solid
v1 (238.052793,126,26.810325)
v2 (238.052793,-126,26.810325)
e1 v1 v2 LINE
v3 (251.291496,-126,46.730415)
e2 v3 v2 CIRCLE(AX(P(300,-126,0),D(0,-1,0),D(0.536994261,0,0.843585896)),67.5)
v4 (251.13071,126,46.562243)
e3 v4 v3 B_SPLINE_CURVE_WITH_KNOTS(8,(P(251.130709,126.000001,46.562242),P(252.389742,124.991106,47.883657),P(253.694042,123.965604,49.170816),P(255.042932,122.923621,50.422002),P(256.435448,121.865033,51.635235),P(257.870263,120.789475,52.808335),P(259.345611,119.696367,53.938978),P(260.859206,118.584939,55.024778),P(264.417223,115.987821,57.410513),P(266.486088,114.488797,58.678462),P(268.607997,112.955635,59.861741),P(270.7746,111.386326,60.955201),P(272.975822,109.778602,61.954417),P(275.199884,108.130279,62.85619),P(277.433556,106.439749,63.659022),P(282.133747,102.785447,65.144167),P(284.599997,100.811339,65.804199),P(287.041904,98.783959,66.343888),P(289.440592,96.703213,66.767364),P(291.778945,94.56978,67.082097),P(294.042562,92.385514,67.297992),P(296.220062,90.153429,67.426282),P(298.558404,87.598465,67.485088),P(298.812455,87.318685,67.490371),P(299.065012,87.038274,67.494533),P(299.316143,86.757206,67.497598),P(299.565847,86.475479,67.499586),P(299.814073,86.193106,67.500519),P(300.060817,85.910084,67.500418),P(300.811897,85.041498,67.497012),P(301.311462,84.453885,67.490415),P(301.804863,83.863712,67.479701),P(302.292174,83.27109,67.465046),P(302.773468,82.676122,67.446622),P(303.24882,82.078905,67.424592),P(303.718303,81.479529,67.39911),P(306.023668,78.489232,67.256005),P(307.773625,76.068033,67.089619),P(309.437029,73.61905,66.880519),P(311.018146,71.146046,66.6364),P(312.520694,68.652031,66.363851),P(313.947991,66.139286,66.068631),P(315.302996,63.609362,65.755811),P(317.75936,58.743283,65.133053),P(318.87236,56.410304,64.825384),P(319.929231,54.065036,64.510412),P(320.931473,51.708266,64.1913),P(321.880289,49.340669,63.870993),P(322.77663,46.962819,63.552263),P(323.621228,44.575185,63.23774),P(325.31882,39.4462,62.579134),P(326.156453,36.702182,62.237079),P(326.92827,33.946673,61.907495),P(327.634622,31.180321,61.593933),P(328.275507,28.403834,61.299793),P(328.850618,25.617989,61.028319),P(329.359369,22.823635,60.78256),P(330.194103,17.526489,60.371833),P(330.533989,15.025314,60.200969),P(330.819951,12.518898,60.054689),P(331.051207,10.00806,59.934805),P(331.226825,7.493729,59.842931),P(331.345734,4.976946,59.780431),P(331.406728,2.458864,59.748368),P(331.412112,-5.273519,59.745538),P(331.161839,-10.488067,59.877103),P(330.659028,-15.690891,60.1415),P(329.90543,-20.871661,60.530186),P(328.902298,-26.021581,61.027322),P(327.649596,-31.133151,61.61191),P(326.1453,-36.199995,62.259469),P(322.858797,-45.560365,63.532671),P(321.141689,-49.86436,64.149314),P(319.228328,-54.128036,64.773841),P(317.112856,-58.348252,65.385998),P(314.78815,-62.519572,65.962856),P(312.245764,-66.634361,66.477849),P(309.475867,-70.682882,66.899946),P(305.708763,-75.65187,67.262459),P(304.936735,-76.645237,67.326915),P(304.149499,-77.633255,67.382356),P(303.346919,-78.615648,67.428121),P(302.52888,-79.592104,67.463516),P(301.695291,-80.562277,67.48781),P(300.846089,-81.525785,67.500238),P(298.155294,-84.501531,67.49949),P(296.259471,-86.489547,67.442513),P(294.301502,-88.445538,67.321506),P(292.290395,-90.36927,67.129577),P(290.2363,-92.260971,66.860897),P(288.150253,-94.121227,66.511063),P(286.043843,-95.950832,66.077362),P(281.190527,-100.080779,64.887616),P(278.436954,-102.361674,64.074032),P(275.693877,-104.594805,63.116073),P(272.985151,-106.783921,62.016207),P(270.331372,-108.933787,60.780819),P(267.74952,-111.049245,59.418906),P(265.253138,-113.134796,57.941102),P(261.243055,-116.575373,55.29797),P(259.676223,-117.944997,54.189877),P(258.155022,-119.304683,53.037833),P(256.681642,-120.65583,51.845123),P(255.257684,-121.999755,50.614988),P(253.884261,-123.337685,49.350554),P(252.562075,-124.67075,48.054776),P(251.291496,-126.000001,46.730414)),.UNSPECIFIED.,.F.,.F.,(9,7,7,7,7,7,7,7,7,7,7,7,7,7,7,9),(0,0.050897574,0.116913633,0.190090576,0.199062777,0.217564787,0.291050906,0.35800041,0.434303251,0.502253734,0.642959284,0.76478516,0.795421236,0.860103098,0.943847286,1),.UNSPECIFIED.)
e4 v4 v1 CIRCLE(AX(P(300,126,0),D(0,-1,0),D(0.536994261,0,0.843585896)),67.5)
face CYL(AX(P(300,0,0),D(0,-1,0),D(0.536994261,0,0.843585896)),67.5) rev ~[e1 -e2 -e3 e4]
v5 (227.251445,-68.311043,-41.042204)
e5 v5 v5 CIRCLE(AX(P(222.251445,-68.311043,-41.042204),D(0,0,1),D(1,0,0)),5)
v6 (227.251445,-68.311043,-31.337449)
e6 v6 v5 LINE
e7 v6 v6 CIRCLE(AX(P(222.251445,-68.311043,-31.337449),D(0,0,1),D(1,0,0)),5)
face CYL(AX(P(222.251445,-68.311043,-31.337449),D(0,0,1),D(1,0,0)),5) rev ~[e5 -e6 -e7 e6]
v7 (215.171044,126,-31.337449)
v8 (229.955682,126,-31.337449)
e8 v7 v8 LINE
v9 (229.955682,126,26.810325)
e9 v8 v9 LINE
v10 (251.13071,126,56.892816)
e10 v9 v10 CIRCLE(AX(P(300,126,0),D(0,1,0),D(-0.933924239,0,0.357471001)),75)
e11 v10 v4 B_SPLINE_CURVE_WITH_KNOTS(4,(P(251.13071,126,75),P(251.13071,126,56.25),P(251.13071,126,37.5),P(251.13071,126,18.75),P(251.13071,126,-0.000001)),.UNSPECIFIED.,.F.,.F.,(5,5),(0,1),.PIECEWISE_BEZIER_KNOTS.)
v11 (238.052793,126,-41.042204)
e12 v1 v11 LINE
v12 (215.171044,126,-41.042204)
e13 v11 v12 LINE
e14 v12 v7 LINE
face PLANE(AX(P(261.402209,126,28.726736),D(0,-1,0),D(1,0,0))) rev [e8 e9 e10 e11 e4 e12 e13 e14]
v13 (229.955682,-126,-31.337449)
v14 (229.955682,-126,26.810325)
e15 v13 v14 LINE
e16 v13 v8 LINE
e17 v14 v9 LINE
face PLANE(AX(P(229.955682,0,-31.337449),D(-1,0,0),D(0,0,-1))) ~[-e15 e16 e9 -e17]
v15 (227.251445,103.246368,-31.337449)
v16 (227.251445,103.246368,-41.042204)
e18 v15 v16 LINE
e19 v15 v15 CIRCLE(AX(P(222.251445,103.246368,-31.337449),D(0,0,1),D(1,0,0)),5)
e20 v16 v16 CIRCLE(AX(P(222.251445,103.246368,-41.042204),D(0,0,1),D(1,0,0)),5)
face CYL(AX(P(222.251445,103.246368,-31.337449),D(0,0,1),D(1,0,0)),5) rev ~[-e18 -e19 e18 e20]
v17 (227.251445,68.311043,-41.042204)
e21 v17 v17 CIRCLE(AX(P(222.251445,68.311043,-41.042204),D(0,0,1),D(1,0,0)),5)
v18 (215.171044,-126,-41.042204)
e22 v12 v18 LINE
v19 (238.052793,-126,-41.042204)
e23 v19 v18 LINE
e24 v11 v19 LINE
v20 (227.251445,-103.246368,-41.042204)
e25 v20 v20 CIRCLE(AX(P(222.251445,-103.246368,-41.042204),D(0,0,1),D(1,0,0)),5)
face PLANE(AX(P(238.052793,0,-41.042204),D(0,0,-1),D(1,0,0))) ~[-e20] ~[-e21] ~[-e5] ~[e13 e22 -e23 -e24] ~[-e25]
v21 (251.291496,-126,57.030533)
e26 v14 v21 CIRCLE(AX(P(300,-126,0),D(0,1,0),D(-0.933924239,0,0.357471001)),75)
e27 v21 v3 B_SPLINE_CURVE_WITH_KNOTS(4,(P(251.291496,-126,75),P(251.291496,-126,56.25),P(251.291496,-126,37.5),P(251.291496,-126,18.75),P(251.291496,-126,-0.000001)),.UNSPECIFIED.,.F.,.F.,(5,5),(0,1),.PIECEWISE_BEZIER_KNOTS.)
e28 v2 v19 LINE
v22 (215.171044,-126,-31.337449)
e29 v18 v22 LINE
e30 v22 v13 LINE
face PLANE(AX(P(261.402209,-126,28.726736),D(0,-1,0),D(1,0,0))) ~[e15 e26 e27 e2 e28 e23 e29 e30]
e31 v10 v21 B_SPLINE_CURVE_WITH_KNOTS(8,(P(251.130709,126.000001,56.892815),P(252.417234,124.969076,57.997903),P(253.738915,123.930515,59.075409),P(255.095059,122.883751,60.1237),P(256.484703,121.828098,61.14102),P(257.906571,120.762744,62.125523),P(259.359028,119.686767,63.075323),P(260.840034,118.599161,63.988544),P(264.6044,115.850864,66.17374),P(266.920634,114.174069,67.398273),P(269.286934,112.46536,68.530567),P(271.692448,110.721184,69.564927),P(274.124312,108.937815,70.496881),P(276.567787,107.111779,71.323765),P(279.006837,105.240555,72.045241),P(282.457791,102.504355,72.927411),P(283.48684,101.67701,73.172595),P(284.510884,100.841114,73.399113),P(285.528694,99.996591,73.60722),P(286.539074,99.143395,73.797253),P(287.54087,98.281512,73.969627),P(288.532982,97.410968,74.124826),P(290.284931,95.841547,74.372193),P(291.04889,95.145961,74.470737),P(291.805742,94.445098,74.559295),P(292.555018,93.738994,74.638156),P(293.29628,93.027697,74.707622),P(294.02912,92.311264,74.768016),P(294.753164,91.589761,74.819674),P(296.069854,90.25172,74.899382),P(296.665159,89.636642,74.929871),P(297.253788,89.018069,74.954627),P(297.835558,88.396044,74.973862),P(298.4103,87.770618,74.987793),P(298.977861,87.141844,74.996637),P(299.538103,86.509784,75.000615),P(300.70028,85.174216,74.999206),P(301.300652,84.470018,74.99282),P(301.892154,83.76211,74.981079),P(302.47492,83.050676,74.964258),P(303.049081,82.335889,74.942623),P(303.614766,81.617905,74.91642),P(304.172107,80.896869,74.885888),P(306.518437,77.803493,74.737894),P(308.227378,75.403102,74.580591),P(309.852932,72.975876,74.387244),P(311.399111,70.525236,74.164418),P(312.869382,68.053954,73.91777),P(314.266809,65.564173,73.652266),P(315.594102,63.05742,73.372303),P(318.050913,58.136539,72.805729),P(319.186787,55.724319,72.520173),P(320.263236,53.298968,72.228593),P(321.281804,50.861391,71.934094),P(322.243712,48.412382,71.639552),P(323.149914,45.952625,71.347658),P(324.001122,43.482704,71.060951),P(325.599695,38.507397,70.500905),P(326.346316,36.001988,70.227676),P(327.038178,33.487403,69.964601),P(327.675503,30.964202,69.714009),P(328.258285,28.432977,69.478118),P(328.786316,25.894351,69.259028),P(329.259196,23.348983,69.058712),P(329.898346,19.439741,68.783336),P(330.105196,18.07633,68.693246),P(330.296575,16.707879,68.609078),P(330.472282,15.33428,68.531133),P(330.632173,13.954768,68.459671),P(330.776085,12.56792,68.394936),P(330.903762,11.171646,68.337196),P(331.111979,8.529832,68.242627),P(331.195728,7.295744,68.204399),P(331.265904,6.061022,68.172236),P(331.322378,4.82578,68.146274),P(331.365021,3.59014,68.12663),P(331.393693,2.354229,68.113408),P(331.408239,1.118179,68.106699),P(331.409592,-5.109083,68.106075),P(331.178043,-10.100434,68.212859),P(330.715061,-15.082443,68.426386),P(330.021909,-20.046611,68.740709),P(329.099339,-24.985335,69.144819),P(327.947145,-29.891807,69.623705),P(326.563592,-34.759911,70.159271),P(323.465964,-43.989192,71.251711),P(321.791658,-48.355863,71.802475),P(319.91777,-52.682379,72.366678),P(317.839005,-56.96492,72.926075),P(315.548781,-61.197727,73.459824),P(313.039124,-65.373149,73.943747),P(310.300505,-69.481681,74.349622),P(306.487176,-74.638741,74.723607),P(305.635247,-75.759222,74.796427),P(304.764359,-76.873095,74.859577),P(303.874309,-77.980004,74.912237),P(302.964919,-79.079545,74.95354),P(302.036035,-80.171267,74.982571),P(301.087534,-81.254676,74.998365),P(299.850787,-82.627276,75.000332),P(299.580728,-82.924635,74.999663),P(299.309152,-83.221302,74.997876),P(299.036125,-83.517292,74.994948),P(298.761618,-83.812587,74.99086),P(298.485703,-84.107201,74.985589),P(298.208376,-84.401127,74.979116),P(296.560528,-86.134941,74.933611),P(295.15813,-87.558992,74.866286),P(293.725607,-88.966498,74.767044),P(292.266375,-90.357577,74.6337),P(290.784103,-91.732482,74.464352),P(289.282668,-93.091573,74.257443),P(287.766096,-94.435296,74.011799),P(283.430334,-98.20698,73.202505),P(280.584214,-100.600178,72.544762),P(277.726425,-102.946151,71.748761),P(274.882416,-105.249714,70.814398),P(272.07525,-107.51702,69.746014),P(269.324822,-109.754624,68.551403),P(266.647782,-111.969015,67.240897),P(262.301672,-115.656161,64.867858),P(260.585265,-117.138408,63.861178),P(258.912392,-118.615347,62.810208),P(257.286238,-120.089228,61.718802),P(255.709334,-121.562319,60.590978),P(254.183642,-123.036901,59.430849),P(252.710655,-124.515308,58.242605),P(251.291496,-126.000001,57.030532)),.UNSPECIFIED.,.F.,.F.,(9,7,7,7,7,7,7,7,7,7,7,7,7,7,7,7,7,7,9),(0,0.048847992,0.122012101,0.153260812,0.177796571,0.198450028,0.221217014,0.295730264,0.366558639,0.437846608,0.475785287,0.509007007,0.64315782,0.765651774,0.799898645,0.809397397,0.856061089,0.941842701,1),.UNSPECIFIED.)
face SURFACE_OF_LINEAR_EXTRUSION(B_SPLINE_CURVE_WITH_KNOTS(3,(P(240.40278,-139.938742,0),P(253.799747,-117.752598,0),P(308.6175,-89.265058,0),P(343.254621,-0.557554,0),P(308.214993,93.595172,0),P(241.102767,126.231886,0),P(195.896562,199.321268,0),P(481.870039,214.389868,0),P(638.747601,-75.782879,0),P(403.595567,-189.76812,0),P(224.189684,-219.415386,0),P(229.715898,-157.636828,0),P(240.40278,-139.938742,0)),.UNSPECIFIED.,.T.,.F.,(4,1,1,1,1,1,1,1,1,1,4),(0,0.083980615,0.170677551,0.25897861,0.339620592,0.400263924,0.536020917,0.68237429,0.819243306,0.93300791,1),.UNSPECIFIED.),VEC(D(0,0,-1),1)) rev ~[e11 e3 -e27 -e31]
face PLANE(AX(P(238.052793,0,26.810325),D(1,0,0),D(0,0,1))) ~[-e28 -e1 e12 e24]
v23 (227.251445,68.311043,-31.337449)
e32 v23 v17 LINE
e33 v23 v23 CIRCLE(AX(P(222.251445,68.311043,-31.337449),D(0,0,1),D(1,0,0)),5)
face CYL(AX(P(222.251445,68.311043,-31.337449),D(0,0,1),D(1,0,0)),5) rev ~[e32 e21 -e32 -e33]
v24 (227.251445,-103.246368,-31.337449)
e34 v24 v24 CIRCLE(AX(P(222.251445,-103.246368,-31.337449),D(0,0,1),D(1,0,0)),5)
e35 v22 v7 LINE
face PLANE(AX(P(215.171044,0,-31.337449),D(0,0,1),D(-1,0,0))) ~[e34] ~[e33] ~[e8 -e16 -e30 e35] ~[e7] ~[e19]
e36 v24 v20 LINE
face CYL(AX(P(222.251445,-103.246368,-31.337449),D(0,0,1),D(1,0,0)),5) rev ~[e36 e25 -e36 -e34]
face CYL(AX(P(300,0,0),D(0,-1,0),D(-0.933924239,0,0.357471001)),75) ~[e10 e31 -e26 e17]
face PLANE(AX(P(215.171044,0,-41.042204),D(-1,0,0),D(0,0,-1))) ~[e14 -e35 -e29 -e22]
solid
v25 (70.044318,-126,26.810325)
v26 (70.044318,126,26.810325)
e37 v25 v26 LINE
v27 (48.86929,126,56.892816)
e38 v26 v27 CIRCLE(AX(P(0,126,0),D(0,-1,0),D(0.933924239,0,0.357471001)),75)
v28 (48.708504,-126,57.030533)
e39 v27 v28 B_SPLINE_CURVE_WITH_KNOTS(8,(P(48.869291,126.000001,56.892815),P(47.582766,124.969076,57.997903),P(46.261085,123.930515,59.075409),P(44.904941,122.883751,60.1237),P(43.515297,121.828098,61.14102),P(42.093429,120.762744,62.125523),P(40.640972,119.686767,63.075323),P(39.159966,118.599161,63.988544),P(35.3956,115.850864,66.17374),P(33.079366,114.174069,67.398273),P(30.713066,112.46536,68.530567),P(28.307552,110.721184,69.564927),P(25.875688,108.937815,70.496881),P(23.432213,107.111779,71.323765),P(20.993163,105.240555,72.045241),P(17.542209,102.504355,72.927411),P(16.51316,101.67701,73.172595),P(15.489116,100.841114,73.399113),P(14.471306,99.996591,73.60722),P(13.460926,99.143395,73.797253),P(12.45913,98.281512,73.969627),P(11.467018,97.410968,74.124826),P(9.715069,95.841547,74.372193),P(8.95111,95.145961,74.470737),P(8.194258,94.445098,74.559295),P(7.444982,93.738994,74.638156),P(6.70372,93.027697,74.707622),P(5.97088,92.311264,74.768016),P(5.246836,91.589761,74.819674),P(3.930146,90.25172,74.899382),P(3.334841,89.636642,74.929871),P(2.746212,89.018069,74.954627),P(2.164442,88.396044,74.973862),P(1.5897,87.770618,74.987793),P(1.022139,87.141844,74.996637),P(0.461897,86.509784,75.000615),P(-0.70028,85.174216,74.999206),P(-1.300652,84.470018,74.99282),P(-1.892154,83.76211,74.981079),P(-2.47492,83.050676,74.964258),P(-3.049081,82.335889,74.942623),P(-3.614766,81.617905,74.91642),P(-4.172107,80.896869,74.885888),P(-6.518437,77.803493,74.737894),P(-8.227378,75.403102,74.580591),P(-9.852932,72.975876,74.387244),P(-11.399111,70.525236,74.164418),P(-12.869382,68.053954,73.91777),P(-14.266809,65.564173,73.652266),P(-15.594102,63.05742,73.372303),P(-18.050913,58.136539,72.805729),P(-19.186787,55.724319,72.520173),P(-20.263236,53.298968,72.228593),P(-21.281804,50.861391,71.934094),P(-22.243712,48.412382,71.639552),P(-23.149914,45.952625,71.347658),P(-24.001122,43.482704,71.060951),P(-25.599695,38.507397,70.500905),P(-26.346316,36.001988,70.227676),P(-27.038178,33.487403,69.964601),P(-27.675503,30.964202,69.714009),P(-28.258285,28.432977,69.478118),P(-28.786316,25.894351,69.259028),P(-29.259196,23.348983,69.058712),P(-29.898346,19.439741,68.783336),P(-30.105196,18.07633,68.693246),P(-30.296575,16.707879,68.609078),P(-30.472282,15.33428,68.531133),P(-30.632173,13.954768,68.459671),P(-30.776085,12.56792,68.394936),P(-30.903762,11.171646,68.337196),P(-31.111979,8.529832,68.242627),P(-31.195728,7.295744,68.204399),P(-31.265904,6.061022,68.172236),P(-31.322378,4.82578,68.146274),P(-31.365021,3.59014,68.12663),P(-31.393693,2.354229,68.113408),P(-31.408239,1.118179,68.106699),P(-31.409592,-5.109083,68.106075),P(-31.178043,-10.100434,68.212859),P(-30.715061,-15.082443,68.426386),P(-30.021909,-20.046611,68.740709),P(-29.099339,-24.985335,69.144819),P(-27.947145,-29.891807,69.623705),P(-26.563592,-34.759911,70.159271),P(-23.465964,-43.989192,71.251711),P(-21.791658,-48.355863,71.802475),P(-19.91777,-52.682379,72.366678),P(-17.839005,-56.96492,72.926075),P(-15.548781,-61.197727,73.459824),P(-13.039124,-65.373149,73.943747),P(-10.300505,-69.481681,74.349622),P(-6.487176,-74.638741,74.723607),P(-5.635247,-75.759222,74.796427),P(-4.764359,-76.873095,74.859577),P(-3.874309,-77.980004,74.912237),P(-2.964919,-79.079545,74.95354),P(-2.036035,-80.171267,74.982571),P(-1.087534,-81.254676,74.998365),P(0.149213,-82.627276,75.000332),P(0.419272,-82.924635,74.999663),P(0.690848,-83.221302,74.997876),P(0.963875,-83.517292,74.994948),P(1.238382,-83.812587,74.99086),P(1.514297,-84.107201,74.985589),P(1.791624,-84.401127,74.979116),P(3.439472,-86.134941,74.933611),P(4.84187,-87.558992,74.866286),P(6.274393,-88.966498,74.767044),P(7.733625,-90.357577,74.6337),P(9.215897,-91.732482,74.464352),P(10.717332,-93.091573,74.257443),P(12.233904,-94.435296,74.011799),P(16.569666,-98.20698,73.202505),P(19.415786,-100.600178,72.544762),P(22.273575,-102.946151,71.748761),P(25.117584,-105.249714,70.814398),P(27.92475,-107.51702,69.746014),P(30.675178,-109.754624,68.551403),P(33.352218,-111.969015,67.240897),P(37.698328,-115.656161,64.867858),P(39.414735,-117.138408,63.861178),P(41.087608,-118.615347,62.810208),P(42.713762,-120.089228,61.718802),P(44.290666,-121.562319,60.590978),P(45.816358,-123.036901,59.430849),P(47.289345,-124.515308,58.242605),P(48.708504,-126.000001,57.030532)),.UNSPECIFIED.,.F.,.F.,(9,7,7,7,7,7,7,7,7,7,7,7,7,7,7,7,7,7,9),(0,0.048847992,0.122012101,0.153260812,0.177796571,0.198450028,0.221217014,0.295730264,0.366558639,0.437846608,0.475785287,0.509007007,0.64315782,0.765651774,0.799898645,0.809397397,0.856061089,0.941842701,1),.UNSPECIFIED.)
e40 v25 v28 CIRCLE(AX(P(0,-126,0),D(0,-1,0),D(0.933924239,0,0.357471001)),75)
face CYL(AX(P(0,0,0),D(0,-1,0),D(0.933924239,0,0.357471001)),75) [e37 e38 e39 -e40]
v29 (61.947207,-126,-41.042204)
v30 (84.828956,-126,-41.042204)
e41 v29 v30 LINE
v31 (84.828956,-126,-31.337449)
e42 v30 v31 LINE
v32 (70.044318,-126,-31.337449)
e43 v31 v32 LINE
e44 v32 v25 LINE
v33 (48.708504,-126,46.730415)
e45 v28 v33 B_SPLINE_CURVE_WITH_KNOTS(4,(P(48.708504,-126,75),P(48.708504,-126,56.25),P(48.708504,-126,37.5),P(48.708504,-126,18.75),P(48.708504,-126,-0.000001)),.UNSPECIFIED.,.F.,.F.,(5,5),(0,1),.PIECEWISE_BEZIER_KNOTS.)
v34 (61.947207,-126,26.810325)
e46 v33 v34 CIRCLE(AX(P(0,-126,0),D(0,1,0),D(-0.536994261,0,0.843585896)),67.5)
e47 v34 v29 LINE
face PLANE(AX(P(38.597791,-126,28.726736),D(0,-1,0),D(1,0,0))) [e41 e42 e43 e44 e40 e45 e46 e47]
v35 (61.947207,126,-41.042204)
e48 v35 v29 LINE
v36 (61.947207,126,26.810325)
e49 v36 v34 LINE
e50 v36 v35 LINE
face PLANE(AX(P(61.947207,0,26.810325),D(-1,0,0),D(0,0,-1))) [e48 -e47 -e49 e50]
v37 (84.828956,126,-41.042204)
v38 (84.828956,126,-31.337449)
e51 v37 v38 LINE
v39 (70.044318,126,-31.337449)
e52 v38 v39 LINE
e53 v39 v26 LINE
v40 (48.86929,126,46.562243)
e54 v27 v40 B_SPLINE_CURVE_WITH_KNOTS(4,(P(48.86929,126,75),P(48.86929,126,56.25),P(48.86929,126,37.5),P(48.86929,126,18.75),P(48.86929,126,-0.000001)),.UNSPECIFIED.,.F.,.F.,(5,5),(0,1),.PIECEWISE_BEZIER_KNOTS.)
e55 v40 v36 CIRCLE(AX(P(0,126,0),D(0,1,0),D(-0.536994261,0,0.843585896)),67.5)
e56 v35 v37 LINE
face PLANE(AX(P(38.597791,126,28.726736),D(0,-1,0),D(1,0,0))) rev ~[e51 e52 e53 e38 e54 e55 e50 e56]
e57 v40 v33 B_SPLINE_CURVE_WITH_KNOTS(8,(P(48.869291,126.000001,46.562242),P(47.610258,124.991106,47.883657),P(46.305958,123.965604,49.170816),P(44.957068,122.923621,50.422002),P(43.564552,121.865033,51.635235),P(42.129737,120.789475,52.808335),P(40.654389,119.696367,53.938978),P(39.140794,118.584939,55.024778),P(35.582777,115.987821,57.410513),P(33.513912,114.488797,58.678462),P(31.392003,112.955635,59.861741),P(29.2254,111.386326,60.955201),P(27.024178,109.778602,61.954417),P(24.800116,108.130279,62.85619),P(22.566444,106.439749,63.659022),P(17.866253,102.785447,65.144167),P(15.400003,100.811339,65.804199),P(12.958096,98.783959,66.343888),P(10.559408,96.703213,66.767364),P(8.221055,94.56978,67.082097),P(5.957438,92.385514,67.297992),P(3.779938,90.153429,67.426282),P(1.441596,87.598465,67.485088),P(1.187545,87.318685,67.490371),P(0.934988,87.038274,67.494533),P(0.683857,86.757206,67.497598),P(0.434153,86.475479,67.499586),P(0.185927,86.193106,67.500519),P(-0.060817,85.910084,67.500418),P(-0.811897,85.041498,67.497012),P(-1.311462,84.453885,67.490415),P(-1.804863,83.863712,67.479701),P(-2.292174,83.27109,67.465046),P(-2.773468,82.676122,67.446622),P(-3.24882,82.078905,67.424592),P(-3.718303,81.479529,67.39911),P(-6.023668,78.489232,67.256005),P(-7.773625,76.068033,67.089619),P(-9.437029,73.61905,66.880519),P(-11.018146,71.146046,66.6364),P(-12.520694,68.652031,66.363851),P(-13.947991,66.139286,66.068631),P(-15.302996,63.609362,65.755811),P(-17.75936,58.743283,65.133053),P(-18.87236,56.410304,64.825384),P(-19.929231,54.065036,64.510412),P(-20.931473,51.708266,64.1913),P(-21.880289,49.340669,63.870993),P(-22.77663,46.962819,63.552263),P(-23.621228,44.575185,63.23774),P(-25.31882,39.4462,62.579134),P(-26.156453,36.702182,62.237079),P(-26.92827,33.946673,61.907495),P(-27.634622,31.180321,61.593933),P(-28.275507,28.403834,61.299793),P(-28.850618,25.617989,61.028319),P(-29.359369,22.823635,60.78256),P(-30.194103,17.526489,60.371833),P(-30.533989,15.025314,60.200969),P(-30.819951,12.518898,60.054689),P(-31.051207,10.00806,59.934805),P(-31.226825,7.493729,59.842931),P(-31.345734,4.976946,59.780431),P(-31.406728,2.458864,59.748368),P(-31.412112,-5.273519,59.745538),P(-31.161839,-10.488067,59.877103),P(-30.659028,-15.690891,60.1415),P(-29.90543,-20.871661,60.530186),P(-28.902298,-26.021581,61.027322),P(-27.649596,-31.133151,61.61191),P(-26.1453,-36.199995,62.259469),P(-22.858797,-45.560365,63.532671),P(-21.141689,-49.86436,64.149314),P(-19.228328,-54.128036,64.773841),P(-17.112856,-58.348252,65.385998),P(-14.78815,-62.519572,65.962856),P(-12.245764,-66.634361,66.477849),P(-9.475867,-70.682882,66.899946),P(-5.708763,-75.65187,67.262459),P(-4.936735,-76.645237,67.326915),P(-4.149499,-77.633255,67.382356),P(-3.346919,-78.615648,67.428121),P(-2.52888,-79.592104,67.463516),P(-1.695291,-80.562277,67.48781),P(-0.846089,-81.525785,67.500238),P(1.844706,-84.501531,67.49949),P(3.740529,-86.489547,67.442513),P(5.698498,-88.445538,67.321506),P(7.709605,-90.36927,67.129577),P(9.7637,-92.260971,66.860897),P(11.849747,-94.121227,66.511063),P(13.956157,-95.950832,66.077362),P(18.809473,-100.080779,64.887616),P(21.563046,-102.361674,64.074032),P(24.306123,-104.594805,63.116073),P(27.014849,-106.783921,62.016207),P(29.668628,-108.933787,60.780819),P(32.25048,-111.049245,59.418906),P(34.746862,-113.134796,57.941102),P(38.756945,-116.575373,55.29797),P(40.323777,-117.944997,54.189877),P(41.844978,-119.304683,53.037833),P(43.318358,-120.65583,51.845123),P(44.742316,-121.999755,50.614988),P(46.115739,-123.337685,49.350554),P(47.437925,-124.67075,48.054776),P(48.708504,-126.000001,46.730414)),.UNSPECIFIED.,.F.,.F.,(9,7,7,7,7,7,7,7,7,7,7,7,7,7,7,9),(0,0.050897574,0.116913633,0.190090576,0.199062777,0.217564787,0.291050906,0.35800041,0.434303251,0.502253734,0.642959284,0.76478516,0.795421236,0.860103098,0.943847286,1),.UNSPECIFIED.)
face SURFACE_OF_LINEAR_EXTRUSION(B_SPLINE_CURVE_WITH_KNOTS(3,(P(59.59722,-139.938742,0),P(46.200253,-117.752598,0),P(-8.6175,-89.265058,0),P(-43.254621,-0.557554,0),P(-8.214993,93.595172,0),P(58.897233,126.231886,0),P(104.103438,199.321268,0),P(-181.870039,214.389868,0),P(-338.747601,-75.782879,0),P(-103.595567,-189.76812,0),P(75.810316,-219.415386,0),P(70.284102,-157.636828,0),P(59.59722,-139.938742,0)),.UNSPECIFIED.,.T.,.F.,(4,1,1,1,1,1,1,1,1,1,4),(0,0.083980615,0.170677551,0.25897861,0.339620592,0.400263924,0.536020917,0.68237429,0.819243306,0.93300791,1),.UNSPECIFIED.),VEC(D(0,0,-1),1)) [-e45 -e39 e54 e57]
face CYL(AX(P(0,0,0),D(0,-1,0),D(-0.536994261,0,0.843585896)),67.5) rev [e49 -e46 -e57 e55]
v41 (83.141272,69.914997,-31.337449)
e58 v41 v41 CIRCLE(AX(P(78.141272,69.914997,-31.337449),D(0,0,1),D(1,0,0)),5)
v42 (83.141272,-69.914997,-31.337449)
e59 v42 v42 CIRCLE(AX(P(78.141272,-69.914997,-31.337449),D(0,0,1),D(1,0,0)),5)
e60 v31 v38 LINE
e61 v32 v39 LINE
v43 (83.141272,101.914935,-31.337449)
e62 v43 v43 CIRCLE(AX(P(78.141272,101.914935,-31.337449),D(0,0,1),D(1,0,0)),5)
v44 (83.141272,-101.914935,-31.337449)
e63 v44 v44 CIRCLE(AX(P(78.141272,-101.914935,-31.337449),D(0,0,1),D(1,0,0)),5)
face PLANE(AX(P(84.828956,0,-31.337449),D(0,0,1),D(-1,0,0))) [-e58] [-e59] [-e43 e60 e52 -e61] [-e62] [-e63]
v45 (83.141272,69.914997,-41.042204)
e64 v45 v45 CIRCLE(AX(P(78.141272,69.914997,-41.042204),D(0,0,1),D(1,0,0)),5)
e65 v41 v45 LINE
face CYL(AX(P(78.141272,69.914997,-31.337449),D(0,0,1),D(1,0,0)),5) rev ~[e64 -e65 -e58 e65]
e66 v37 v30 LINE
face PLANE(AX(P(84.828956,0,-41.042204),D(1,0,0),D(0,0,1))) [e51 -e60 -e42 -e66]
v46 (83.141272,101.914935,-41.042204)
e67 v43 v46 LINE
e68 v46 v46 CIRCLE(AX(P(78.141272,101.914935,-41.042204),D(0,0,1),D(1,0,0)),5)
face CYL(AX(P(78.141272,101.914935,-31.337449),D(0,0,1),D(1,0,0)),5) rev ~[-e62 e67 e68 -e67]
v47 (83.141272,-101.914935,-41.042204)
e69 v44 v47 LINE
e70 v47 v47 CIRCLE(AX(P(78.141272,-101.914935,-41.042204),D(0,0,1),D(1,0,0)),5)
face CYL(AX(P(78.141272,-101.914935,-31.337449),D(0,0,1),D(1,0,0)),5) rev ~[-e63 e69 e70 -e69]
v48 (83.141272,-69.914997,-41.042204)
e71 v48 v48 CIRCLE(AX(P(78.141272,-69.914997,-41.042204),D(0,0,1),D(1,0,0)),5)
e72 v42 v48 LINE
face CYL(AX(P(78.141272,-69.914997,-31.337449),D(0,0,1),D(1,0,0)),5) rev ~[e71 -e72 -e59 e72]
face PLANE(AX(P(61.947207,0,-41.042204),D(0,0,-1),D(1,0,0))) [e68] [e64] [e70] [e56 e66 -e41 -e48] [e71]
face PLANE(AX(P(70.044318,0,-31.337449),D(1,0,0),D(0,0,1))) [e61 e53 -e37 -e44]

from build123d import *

# Parameters (mm, degrees)
F1_DEPTH      = 126
F1_DEPTH_BACK = 126
F5_DEPTH      = 100
F8_R          = 5
F9_DEPTH      = 25
F10_R         = 5
F11_DEPTH     = 25


with BuildPart() as f1:
    # F0 (on Front) → F1 (new body, two sides)
    with BuildSketch(Plane.XZ) as f1_sk:
        with BuildLine():
            Line((70.0443179016, -12.7403034491), (70.0443179016, 26.8103250578))
            ThreePointArc((70.0443179016, 26.8103250578), (25.7463386006, 70.4423597607), (-36.2471125971, 65.6593240018))
            Line((-36.2471125971, 65.6593240018), (-36.2471125971, 56.9420479819))
            ThreePointArc((-36.2471125971, 56.9420479819), (19.8016134759, 64.5301952868), (61.9472071227, 26.8103250578))
            Line((61.9472071227, 26.8103250578), (61.9472071227, -31.3374493738))
            Line((61.9472071227, -31.3374493738), (61.9472071227, -41.0422040633))
            Line((61.9472071227, -41.0422040633), (84.8289564794, -41.0422040633))
            Line((84.8289564794, -41.0422040633), (84.8289564794, -31.3374493738))
            Line((84.8289564794, -31.3374493738), (70.0443179016, -31.3374493738))
            Line((70.0443179016, -31.3374493738), (70.0443179016, -12.7403034491))
        make_face()
    extrude(amount=F1_DEPTH)
    extrude(f1_sk.sketch, amount=-F1_DEPTH_BACK)


with BuildPart() as f3_1:
    # F3: instance of F1
    add(f1.part.mirror(Plane.YZ.offset(150)))


with BuildPart() as f1_1:
    add(f1.part)

    # F4 (on Top) → F5 (cut)
    with BuildSketch(Plane.XY):
        with BuildLine():
            add(Edge.make_bspline(
                [(59.5972202718, -139.9387419224), (46.2002525243, -117.7525978892), (-8.6174999533, -89.2650577127), (-43.2546205209, -0.5575538298), (-8.2149928368, 93.5951721342), (58.8972329523, 126.2318861842), (104.1034380676, 199.3212678603), (-181.8700393873, 214.3898682567), (-338.7476009134, -75.782878847), (-103.5955673017, -189.7681196613), (75.8103162653, -219.4153861522), (70.2841017032, -157.6368281737), (59.5972202718, -139.9387419224)],
                knots=[0, 0, 0, 0, 0.0839806149, 0.1706775515, 0.2589786096, 0.3396205922, 0.4002639236, 0.5360209171, 0.6823742902, 0.8192433062, 0.9330079097, 1, 1, 1, 1], degree=3))
        make_face()
    extrude(amount=F5_DEPTH, mode=Mode.SUBTRACT)


with BuildPart() as f7_1:
    # F7: instance of F1
    add(f1_1.part.mirror(Plane.YZ.offset(150)))

    # F10 (on face) → F11 (cut)
    with BuildSketch(Plane.XY.offset(-31.3374493738)):
        with Locations((222.251445055, -103.2463684678)):
            Circle(F10_R)
        with Locations((222.251445055, -68.3110430837)):
            Circle(F10_R)
        with Locations((222.251445055, 68.3110430837)):
            Circle(F10_R)
        with Locations((222.251445055, 103.2463684678)):
            Circle(F10_R)
    extrude(amount=-F11_DEPTH, mode=Mode.SUBTRACT)


with BuildPart() as f1_2:
    add(f1_1.part)

    # F8 (on face) → F9 (cut)
    with BuildSketch(Plane.XY.offset(-31.3374493738)):
        with Locations((78.141272068, -101.914934814)):
            Circle(F8_R)
        with Locations((78.141272068, -69.914996624)):
            Circle(F8_R)
        with Locations((78.141272068, 69.914996624)):
            Circle(F8_R)
        with Locations((78.141272068, 101.914934814)):
            Circle(F8_R)
    extrude(amount=-F9_DEPTH, mode=Mode.SUBTRACT)


solid = Compound([f7_1.part, f1_2.part])
